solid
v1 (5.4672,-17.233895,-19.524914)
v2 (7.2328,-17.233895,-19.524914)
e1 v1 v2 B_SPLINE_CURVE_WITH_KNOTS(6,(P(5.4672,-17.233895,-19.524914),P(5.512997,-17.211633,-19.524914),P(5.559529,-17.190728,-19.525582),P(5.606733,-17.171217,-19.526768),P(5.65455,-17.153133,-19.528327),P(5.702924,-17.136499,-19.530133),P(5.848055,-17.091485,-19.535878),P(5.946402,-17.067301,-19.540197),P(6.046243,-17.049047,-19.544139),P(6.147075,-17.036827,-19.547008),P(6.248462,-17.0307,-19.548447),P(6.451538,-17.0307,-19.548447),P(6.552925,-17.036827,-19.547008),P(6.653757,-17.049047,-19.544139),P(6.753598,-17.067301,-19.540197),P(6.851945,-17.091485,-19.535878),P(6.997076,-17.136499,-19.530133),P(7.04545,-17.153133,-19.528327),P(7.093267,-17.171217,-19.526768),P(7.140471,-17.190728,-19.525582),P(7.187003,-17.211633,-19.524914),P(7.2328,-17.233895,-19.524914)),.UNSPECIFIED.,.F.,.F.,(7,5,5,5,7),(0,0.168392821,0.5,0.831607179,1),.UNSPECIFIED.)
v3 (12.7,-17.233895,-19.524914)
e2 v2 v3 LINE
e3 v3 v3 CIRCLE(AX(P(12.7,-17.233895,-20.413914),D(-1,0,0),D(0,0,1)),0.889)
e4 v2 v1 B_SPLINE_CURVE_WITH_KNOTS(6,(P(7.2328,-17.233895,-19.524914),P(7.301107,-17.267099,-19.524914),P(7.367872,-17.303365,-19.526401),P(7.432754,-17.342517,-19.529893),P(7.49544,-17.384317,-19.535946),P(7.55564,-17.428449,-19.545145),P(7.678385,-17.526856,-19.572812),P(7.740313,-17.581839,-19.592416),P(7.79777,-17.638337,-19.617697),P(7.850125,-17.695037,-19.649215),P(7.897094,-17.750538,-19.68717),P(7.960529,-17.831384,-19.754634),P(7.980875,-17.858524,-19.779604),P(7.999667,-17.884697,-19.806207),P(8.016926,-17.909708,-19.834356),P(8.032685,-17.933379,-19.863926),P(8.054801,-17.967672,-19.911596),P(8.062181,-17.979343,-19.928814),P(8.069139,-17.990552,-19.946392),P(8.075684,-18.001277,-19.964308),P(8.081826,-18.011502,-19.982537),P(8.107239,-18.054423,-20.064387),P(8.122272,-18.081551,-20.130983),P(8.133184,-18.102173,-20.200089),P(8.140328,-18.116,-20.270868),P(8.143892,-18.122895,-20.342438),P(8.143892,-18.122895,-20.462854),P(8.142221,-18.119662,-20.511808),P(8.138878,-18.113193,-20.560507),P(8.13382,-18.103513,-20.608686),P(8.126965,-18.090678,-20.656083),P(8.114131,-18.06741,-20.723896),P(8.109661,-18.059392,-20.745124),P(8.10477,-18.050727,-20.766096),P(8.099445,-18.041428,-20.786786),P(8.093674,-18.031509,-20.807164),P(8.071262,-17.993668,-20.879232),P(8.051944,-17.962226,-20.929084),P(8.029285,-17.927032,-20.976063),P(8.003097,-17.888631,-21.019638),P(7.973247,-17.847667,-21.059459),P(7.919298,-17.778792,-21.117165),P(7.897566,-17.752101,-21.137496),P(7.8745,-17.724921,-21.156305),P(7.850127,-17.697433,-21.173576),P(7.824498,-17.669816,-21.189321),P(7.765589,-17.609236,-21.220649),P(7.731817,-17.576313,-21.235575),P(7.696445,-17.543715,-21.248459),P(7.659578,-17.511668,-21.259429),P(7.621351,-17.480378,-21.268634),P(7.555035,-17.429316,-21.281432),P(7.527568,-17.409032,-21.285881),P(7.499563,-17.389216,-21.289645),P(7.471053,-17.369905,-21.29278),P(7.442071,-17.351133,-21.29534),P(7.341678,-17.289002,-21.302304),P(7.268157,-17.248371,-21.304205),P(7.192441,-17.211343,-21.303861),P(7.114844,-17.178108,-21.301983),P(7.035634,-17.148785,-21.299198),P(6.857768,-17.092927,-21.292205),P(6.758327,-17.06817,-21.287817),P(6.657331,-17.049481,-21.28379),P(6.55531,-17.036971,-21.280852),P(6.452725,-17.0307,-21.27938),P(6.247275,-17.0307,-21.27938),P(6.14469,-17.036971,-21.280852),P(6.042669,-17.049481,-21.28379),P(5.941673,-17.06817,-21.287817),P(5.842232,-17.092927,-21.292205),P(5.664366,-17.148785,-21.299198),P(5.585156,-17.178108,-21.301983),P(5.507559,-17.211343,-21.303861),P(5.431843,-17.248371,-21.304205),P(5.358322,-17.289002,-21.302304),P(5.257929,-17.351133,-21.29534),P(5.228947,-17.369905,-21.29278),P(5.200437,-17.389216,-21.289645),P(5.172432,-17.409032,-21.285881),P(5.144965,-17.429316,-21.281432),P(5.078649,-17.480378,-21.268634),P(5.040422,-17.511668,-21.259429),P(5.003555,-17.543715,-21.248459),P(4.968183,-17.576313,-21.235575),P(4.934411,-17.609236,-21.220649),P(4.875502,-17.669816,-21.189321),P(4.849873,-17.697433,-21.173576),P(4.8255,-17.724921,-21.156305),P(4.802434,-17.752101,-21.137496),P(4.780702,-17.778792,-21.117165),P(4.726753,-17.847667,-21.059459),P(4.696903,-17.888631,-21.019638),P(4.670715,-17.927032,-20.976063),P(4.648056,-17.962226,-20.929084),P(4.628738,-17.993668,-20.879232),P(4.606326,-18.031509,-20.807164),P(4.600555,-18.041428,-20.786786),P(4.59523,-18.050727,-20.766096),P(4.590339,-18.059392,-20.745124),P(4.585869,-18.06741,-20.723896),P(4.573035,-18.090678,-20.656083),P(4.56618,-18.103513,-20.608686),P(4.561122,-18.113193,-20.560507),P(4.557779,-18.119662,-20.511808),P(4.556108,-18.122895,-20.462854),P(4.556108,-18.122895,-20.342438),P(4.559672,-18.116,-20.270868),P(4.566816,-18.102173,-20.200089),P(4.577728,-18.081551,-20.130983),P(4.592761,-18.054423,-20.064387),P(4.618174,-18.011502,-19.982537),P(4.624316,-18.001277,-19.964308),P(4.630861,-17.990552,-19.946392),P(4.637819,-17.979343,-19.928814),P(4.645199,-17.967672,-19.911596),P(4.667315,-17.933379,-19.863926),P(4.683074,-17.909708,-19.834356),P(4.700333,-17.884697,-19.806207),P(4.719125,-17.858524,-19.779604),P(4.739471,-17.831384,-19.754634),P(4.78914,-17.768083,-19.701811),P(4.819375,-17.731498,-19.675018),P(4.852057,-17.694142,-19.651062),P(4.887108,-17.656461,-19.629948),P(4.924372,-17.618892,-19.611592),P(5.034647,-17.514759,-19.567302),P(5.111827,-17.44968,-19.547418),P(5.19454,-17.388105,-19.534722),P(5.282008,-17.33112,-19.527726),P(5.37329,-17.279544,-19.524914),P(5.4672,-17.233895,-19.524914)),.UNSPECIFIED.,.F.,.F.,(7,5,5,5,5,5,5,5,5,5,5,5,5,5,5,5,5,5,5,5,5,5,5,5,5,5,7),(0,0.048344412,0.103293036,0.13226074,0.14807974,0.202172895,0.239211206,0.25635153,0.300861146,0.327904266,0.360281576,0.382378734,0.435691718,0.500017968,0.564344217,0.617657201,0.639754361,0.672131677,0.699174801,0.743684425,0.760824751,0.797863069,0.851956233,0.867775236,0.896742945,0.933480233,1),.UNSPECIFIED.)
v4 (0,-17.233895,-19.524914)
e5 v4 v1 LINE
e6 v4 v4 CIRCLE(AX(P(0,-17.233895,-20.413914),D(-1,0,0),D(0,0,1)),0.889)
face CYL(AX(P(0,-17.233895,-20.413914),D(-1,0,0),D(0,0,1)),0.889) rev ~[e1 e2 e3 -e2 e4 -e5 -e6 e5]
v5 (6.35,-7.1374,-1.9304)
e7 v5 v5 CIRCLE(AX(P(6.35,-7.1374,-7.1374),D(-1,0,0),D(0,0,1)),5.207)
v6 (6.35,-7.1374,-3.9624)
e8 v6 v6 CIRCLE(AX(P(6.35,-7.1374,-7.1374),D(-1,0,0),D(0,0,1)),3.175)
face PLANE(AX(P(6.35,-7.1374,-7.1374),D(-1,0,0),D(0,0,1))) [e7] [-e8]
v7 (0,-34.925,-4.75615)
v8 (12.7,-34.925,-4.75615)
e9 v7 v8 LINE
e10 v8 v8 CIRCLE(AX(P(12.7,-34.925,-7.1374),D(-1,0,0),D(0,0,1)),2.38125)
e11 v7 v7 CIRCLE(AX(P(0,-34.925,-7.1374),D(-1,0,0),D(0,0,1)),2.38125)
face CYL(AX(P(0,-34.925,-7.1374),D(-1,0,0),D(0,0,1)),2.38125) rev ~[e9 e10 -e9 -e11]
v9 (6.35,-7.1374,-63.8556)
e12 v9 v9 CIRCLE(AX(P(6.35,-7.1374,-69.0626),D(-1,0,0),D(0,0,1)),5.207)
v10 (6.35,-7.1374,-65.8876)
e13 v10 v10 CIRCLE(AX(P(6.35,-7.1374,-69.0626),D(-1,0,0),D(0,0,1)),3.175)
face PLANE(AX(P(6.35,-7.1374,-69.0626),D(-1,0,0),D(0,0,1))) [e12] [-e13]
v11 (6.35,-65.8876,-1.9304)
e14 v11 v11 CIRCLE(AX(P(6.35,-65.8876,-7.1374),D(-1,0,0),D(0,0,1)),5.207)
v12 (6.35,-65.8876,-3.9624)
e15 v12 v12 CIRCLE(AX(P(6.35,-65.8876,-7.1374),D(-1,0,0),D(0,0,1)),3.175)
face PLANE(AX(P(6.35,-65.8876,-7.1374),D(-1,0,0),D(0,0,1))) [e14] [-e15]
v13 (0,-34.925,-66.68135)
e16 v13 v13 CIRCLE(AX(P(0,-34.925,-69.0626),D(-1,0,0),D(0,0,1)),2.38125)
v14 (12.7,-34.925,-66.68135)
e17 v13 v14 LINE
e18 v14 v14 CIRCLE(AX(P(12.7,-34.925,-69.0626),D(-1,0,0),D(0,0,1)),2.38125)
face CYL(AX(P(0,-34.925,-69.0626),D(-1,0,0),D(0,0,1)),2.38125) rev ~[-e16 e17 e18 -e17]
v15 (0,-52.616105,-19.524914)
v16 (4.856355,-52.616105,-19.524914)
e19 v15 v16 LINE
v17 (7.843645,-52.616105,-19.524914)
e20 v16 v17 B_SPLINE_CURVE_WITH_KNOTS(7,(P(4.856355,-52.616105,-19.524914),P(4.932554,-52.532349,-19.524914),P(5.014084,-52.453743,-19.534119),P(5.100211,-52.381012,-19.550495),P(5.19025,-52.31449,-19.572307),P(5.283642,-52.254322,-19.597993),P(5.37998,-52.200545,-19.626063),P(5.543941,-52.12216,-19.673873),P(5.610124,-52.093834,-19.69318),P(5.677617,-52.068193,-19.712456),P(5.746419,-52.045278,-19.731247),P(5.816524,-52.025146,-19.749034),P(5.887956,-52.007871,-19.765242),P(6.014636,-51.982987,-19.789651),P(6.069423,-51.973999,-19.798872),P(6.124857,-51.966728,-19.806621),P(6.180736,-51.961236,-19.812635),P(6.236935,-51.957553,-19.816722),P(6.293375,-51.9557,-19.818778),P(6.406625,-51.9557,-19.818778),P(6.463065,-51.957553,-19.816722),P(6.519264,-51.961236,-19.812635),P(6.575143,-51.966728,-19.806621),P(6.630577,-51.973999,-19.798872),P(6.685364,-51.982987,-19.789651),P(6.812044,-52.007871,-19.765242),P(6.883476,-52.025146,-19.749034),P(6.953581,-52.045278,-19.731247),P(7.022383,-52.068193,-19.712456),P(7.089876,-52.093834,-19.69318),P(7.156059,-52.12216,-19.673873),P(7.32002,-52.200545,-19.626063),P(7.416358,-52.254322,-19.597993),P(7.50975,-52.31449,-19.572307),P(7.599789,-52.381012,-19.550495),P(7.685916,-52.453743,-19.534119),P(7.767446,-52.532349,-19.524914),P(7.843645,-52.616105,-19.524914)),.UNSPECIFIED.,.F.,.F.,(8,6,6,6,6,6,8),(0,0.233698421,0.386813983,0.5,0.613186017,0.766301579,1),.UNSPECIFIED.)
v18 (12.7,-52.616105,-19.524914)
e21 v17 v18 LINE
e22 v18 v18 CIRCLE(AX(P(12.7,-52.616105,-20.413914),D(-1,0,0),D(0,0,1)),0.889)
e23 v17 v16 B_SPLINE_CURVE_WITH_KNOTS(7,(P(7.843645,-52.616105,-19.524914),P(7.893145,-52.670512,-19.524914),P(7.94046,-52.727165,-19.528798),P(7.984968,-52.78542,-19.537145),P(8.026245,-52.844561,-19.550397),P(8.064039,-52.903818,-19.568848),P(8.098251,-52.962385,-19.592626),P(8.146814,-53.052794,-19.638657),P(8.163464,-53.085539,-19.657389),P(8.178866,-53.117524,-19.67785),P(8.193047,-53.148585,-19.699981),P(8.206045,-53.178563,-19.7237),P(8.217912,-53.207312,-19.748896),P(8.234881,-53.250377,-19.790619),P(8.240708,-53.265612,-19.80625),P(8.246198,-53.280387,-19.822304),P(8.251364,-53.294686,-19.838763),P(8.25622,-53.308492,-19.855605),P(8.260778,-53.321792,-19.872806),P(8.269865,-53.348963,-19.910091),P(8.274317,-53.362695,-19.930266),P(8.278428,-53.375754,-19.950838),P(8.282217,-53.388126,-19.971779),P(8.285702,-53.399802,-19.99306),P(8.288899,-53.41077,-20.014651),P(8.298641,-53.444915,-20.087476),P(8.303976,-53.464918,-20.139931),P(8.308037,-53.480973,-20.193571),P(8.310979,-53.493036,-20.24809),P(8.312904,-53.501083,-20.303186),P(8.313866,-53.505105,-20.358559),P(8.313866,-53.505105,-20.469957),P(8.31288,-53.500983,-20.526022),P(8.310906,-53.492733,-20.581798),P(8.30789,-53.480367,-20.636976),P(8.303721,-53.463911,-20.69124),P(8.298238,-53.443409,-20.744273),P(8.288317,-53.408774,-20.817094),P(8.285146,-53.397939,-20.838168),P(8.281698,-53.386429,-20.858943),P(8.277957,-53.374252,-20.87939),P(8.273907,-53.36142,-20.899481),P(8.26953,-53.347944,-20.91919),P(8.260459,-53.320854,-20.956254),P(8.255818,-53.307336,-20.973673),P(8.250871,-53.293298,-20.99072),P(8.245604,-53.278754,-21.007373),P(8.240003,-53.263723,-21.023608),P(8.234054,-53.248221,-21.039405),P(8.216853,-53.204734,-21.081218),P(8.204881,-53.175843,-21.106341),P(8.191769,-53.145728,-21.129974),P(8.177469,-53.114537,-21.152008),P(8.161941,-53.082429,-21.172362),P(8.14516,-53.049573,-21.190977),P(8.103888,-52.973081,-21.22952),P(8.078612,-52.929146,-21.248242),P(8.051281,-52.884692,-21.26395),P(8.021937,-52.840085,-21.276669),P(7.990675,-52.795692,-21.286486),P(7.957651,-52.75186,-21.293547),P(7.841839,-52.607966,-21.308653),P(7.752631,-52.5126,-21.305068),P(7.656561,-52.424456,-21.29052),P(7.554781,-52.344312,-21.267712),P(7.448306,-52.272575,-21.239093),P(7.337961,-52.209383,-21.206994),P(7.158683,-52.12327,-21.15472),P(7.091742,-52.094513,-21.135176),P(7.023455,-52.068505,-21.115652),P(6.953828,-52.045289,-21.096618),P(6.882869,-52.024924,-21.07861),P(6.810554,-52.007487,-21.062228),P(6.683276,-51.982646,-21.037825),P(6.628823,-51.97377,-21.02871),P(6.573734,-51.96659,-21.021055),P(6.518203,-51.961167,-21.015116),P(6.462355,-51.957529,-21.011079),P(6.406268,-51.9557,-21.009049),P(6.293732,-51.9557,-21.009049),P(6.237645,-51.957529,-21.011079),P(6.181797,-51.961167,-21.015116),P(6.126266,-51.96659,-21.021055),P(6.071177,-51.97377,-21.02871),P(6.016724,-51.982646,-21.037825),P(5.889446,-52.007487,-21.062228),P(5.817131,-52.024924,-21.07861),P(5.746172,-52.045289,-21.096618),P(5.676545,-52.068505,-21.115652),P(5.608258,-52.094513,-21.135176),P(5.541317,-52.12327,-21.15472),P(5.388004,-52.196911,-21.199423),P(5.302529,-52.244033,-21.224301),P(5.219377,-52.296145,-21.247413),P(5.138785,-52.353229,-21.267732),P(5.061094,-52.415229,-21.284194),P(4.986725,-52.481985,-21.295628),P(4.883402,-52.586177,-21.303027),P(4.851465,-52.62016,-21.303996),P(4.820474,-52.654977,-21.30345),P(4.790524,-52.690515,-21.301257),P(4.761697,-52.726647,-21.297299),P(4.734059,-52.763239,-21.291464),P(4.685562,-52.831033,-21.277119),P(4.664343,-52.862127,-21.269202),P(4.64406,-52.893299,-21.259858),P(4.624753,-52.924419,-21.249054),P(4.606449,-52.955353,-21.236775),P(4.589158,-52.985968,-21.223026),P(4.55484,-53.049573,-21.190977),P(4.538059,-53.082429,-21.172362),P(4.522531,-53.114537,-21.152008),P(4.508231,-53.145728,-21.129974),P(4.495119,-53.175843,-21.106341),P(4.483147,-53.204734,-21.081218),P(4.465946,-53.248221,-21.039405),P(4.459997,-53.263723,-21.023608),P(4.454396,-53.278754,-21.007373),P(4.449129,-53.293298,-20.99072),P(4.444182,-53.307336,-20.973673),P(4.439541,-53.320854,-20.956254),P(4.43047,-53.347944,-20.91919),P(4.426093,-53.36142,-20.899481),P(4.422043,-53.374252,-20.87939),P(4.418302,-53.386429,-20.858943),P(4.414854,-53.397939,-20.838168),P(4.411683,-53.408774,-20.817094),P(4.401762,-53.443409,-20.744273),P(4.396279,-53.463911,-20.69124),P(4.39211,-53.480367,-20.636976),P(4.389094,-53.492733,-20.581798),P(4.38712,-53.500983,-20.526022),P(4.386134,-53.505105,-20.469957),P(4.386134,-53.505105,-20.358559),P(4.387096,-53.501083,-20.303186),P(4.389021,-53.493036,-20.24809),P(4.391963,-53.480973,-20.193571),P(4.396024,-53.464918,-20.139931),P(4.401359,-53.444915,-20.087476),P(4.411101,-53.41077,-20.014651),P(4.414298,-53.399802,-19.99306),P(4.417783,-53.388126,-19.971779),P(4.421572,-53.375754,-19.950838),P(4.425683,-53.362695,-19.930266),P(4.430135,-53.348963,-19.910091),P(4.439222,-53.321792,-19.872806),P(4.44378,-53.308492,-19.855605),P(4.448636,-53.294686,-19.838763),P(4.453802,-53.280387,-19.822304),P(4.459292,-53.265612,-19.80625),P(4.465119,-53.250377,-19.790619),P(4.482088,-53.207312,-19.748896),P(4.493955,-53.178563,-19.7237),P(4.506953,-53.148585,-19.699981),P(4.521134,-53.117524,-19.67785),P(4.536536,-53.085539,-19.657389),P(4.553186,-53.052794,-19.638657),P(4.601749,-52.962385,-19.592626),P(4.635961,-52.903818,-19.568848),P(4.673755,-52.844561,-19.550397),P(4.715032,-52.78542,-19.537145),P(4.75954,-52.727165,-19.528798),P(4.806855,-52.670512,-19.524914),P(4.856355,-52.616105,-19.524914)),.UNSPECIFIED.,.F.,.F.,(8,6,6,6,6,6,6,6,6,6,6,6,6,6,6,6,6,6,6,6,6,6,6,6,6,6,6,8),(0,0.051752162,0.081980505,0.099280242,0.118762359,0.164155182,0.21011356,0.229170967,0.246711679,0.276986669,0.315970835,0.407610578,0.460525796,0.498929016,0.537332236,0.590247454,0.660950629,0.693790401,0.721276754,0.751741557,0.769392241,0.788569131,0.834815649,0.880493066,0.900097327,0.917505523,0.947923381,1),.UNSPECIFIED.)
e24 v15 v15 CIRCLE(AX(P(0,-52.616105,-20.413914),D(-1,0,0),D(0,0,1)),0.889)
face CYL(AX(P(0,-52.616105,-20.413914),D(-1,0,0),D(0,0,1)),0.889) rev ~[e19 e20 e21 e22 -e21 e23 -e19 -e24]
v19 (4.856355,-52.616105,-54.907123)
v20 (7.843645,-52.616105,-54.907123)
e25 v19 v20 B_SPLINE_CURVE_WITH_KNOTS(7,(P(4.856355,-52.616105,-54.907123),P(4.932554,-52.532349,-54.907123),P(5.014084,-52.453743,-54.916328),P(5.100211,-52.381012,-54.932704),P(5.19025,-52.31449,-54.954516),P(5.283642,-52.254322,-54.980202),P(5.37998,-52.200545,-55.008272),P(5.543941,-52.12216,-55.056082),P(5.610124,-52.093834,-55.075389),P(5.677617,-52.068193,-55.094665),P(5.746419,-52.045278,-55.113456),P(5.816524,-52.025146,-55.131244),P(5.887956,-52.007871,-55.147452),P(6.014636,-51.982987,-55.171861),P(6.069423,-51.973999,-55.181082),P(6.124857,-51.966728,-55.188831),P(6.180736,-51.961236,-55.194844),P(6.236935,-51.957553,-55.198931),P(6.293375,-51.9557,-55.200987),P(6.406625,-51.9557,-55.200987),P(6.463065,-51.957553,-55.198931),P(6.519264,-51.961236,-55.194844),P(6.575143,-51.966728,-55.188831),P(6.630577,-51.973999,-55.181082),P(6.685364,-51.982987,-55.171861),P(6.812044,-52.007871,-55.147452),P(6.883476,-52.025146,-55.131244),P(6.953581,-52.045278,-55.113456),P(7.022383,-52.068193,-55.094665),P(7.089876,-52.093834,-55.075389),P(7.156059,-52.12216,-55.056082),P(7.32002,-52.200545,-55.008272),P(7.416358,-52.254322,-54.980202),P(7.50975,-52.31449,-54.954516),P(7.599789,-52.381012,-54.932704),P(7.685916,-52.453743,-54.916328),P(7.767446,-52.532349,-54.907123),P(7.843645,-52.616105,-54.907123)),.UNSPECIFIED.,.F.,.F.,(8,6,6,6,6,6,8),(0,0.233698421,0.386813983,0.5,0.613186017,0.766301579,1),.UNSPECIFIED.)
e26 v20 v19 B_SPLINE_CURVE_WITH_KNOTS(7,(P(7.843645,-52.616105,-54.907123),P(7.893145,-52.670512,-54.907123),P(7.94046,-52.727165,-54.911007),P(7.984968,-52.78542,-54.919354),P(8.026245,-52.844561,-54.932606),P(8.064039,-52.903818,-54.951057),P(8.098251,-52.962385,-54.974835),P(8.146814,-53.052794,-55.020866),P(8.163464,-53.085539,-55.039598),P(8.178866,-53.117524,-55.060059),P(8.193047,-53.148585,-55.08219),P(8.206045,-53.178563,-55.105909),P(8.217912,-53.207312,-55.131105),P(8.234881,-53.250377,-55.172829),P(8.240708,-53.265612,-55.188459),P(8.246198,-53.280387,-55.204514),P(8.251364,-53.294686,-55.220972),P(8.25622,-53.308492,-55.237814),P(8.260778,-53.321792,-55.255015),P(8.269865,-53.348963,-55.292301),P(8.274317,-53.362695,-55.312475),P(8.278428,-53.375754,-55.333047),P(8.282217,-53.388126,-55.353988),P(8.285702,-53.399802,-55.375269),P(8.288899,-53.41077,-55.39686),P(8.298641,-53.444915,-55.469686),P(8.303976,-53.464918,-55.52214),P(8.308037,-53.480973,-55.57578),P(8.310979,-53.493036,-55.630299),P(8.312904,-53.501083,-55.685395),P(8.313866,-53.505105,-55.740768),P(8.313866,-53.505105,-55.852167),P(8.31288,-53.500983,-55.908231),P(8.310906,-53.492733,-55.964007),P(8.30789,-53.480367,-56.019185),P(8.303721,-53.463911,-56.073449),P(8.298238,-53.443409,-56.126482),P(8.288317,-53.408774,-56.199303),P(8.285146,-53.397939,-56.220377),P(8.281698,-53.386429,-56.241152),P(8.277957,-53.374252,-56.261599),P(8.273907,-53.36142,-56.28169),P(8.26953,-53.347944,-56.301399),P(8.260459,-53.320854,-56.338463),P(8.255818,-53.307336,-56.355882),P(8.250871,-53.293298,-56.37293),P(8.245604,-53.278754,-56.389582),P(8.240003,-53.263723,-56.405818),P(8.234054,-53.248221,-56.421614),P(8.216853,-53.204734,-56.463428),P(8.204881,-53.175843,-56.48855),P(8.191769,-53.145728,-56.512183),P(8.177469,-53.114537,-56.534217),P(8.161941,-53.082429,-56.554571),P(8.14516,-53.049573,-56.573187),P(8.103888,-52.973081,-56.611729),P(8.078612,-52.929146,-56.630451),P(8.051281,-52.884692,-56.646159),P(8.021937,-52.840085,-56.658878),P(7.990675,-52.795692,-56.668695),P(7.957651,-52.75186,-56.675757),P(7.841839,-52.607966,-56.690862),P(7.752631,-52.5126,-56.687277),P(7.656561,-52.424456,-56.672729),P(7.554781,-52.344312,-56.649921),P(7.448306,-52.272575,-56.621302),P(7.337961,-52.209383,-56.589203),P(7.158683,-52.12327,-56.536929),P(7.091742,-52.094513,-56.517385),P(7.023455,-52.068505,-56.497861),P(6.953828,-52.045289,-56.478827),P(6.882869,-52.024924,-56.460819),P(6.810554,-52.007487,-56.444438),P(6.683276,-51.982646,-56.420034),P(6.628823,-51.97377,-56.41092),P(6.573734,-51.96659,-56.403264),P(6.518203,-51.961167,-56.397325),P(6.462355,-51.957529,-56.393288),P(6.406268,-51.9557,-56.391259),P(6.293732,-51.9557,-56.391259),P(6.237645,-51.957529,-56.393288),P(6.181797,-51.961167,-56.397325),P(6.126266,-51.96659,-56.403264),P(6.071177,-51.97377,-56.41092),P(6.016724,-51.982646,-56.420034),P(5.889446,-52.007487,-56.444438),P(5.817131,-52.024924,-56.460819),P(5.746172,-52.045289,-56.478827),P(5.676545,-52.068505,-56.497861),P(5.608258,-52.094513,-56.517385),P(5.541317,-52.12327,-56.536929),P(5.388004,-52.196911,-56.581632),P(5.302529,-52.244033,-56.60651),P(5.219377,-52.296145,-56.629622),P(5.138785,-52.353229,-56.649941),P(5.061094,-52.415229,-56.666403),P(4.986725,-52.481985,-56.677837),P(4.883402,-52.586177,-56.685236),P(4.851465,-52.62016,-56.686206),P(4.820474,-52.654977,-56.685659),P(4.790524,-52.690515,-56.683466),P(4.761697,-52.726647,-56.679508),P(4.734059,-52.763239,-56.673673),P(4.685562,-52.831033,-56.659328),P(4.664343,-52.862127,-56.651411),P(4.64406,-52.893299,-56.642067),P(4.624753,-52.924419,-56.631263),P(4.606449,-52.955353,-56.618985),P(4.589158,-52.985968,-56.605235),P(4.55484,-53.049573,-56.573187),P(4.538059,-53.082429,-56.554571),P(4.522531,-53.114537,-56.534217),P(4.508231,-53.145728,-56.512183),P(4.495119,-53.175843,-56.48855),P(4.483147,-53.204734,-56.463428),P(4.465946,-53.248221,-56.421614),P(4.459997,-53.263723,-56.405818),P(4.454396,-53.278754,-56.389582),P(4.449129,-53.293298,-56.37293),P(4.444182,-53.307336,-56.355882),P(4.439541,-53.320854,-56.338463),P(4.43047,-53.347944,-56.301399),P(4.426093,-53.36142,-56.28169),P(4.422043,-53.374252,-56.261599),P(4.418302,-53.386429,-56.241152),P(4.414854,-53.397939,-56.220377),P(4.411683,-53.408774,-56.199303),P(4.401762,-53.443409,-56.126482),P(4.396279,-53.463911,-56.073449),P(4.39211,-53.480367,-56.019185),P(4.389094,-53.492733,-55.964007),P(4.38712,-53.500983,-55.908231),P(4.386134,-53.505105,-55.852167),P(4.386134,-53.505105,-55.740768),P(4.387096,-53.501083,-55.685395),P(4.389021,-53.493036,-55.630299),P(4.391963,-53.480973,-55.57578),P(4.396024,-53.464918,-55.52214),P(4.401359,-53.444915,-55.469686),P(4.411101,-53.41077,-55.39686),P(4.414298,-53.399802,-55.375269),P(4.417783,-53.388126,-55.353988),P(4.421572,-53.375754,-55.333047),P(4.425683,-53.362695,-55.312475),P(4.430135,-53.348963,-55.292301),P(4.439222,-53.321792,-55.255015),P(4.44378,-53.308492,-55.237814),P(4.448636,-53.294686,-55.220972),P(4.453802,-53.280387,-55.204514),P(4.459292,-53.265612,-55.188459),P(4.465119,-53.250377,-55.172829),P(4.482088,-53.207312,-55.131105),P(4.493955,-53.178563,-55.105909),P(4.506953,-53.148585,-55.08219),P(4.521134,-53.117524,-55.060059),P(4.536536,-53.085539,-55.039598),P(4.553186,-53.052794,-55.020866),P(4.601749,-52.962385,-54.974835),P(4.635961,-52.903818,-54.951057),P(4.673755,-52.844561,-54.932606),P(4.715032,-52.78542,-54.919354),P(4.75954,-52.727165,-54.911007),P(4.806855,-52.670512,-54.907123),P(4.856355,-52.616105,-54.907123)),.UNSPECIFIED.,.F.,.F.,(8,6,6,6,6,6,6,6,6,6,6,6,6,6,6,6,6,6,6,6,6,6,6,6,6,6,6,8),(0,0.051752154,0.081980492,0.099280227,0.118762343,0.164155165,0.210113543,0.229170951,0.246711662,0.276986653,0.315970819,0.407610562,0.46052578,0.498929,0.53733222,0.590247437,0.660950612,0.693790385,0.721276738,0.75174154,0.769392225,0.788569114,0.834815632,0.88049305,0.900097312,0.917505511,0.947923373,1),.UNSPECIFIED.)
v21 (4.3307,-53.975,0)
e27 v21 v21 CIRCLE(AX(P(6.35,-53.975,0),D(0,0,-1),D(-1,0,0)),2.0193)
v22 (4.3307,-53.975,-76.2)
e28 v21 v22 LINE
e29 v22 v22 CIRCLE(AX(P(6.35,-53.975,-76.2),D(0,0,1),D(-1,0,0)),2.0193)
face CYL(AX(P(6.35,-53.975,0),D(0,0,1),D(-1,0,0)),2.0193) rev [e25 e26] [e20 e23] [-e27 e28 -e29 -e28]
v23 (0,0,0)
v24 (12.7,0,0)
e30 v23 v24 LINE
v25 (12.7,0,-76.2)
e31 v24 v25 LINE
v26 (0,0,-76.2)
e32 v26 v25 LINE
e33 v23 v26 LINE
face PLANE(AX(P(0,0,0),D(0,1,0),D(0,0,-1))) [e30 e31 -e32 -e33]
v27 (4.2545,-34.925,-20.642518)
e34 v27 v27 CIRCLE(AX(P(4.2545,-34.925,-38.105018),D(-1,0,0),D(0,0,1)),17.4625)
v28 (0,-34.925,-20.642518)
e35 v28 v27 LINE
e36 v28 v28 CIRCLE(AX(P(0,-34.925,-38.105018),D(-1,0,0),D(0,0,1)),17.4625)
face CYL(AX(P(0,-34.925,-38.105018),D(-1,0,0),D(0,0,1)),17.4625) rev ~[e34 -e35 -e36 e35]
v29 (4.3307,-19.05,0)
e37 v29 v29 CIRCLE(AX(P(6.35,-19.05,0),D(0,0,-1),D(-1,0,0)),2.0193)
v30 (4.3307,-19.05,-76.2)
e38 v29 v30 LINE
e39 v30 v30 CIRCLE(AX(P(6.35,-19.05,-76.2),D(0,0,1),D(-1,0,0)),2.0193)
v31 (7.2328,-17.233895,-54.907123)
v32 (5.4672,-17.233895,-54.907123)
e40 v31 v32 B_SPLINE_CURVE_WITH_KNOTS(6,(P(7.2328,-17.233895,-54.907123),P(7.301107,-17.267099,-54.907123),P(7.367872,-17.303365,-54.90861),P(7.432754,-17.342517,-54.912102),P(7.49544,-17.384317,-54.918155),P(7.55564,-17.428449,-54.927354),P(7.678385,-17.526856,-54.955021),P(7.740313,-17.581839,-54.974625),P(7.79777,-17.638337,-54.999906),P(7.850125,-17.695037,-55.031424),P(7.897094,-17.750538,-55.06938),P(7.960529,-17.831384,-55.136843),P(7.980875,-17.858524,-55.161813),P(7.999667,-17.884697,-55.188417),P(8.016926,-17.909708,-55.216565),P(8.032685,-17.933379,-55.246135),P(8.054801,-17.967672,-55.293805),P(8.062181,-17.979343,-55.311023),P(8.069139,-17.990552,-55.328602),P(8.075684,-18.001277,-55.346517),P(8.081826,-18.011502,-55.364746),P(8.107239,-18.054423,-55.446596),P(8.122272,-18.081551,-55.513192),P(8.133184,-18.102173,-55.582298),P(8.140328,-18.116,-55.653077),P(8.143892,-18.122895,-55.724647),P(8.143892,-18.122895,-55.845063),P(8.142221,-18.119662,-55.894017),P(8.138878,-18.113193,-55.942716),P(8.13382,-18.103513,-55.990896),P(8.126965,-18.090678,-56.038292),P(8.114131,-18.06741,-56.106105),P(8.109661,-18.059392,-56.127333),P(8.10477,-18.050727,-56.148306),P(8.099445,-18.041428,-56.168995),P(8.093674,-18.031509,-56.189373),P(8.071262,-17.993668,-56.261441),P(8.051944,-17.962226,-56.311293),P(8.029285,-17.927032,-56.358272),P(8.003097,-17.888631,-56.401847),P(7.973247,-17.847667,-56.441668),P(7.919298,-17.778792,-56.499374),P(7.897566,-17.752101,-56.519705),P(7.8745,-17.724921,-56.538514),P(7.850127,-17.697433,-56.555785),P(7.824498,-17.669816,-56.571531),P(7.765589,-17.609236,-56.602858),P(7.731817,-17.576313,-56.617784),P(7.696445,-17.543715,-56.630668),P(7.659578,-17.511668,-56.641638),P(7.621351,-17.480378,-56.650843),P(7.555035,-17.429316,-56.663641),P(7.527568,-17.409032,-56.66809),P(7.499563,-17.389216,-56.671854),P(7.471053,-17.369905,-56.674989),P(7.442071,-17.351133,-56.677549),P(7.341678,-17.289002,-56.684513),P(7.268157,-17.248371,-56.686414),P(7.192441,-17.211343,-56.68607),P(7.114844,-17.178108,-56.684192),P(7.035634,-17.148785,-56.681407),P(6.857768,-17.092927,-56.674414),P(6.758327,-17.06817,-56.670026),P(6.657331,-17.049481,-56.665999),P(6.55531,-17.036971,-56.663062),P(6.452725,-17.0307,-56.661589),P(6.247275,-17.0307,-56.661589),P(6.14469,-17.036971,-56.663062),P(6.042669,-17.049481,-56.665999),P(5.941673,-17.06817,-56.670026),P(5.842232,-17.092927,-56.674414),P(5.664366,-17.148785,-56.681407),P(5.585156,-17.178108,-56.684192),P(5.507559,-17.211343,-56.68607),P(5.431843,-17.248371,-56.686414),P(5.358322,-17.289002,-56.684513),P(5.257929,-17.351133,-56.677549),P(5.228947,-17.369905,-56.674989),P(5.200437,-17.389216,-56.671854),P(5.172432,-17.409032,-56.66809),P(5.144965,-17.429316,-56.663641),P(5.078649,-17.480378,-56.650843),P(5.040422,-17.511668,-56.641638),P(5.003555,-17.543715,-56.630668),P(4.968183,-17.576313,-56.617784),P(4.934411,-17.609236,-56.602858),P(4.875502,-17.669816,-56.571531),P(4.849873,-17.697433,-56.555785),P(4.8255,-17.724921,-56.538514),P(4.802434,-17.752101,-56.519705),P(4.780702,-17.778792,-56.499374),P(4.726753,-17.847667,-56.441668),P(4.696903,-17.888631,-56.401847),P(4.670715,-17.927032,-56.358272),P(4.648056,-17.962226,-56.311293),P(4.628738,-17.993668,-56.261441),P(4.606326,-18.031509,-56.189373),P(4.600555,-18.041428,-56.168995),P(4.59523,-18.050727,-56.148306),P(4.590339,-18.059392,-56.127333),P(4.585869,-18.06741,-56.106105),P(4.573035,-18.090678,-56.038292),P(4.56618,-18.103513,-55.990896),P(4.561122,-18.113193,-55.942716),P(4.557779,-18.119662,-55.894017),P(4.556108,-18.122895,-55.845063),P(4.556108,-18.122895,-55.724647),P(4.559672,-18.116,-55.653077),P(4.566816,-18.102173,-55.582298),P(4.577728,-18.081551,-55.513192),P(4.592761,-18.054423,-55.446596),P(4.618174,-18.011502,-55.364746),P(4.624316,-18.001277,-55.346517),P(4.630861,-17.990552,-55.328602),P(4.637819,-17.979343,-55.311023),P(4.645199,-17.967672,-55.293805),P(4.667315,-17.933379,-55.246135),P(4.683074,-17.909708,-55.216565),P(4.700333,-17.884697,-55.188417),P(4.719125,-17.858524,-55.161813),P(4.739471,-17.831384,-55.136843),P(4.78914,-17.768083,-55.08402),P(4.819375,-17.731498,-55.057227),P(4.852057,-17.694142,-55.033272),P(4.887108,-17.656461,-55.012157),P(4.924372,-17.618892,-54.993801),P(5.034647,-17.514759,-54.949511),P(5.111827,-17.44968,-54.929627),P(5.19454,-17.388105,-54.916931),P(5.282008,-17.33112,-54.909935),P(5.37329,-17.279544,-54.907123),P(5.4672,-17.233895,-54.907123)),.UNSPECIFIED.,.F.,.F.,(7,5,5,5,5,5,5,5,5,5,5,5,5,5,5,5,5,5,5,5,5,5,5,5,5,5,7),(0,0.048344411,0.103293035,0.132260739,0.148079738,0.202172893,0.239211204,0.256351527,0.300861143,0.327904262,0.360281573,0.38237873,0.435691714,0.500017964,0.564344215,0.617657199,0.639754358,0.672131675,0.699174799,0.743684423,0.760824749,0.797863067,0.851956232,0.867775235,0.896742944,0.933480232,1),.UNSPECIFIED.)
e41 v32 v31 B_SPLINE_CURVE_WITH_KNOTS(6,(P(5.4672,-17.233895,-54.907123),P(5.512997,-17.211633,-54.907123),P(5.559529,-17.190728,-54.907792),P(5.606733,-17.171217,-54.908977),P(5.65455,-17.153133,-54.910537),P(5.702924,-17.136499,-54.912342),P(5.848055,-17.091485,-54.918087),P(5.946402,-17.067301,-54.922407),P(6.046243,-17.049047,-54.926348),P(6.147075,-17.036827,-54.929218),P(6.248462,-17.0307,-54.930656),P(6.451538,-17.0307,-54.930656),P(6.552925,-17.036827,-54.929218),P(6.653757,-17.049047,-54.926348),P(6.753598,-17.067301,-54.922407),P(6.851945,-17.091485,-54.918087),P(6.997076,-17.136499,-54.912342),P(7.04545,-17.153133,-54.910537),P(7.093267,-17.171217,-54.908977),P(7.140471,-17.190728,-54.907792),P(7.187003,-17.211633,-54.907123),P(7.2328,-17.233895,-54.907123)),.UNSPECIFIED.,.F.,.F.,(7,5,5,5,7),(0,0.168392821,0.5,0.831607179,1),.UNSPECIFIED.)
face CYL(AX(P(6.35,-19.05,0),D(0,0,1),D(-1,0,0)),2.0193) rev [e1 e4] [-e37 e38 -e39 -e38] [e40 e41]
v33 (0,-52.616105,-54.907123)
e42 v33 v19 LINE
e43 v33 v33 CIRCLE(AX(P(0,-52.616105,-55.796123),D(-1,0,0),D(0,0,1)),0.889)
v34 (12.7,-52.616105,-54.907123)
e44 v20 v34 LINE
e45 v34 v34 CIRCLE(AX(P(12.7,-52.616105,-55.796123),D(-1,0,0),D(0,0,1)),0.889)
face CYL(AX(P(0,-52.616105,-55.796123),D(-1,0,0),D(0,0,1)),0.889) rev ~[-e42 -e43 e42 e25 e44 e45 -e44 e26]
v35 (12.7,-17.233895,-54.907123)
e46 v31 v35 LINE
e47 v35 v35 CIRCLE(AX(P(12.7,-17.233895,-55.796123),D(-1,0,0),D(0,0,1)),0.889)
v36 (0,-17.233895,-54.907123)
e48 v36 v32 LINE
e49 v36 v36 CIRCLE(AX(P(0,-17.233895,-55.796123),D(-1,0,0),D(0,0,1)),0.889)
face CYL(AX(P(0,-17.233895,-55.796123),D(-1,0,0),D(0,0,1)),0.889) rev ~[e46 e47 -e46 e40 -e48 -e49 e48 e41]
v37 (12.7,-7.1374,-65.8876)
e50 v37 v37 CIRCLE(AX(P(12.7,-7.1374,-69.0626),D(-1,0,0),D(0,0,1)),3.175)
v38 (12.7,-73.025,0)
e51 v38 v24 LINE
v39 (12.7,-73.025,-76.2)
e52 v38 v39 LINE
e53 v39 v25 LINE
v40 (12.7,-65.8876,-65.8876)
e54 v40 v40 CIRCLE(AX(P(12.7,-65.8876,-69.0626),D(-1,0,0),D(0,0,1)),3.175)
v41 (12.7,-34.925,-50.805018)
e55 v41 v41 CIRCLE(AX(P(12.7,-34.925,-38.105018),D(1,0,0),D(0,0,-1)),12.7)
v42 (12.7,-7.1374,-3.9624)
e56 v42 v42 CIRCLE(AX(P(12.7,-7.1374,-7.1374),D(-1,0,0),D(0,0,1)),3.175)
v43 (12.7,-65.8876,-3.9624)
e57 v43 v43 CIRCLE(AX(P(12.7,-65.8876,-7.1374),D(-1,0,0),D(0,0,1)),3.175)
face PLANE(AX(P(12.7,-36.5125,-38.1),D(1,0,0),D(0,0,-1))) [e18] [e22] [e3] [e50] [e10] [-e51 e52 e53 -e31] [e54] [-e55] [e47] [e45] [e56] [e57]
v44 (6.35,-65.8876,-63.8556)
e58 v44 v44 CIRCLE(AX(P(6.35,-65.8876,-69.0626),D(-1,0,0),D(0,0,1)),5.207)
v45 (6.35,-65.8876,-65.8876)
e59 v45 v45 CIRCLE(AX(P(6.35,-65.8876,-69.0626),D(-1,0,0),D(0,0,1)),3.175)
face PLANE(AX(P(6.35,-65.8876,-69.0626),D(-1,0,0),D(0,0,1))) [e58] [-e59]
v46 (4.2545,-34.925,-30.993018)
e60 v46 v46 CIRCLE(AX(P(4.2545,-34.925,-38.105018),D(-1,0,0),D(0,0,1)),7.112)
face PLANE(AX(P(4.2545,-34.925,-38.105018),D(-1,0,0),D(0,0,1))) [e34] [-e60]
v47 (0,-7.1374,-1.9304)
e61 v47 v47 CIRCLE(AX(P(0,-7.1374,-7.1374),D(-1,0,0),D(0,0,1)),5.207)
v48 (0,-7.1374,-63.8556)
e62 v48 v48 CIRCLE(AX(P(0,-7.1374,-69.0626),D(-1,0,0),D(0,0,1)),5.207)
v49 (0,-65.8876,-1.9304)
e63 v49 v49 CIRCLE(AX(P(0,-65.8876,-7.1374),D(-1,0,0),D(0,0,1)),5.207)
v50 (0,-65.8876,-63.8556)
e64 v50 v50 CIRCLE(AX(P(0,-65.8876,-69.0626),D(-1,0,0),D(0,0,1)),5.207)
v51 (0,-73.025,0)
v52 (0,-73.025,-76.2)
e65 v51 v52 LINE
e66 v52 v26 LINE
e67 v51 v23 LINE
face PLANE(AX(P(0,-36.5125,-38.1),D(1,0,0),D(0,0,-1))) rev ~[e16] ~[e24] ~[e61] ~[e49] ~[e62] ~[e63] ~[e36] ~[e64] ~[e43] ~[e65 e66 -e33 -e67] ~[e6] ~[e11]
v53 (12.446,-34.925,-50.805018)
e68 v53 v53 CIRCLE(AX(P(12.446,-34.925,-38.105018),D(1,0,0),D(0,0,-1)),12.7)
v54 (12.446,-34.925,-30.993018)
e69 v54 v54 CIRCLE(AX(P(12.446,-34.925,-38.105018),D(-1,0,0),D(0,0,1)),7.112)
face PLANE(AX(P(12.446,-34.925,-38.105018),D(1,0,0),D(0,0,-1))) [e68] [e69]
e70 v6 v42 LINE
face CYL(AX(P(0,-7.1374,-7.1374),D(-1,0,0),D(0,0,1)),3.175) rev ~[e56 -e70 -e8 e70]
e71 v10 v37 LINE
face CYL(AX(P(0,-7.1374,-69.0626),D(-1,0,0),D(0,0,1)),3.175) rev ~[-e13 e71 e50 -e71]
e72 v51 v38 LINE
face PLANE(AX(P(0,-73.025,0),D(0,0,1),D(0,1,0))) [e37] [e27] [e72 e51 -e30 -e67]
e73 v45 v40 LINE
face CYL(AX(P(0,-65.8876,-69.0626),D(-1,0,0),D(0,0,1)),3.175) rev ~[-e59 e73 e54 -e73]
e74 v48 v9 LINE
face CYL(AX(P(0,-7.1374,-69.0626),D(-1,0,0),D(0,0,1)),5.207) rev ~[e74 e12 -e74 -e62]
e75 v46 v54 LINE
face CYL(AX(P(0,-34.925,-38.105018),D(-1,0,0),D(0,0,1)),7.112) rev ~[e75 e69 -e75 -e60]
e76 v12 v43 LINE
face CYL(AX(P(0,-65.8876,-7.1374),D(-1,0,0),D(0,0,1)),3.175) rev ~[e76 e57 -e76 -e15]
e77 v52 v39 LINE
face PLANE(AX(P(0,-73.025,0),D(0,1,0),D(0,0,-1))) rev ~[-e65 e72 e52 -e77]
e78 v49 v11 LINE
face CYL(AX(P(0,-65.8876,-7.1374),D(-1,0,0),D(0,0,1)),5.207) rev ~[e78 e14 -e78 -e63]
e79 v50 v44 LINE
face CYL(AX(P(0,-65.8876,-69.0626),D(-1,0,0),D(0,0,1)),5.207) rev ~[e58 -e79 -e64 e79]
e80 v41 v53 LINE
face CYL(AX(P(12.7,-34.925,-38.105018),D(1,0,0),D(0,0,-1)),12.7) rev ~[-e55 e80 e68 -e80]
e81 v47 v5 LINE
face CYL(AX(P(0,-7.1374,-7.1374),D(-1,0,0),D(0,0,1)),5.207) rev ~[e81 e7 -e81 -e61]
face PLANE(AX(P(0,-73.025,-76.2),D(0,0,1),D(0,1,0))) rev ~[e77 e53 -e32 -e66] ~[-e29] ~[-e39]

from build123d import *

# Parameters (mm, degrees)
SKETCH1_W          = 76.2
SKETCH1_H          = 73.025
EXTRUDE1_DEPTH     = 12.7
SKETCH8_R          = 0.889
SKETCH8_R_2        = 3.175
SKETCH8_R_3        = 7.112
SKETCH8_R_4        = 2.38125
CUT_EXTRUDE5_DEPTH = 12.7
SKETCH11_R         = 5.207
CUT_EXTRUDE6_DEPTH = 6.35
SKETCH13_R         = 17.4625
CUT_EXTRUDE7_DEPTH = 4.2545
SKETCH14_R         = 12.7
CUT_EXTRUDE8_DEPTH = 0.254
SKETCH15_R         = 2.0193
CUT_EXTRUDE9_DEPTH = 77.2


with BuildPart() as part:
    # Sketch1 → Extrude1 (new body)
    with BuildSketch(Plane(origin=(0, 0, 0), x_dir=(0, 0, -1), z_dir=(1, 0, 0))):
        with Locations((38.1, -36.5125)):
            Rectangle(SKETCH1_W, SKETCH1_H)
    extrude(amount=EXTRUDE1_DEPTH)

    # Sketch8 → Cut-Extrude5 (cut)
    with BuildSketch(Plane.ZY):
        with Locations((-55.796122625, -17.233895441)):
            Circle(SKETCH8_R)
        with Locations((-7.1374, -7.1374)):
            Circle(SKETCH8_R_2)
        with Locations((-69.0626, -7.1374)):
            Circle(SKETCH8_R_2)
        with Locations((-69.0626, -65.8876)):
            Circle(SKETCH8_R_2)
        with Locations((-7.1374, -65.8876)):
            Circle(SKETCH8_R_2)
        with Locations((-38.105018066, -34.925)):
            Circle(SKETCH8_R_3)
        with Locations((-69.0626, -34.925)):
            Circle(SKETCH8_R_4)
        with Locations((-7.1374, -34.925)):
            Circle(SKETCH8_R_4)
        with Locations((-20.413913508, -17.233895441)):
            Circle(SKETCH8_R)
        with Locations((-55.796122625, -52.616104559)):
            Circle(SKETCH8_R)
        with Locations((-20.413913508, -52.616104559)):
            Circle(SKETCH8_R)
    extrude(amount=-CUT_EXTRUDE5_DEPTH, mode=Mode.SUBTRACT)

    # Sketch11 → Cut-Extrude6 (cut)
    with BuildSketch(Plane.ZY):
        with Locations((-7.1374, -7.1374)):
            Circle(SKETCH11_R)
        with Locations((-69.0626, -7.1374)):
            Circle(SKETCH11_R)
        with Locations((-69.0626, -65.8876)):
            Circle(SKETCH11_R)
        with Locations((-7.1374, -65.8876)):
            Circle(SKETCH11_R)
    extrude(amount=-CUT_EXTRUDE6_DEPTH, mode=Mode.SUBTRACT)

    # Sketch13 → Cut-Extrude7 (cut)
    with BuildSketch(Plane.ZY):
        with Locations((-38.105018066, -34.925)):
            Circle(SKETCH13_R)
    extrude(amount=-CUT_EXTRUDE7_DEPTH, mode=Mode.SUBTRACT)

    # Sketch14 → Cut-Extrude8 (cut)
    with BuildSketch(Plane(origin=(12.7, 0, 0), x_dir=(0, 0, -1), z_dir=(1, 0, 0))):
        with Locations((38.105018066, -34.925)):
            Circle(SKETCH14_R)
    extrude(amount=-CUT_EXTRUDE8_DEPTH, mode=Mode.SUBTRACT)

    # Sketch15 → Cut-Extrude9 (cut, through all)
    with BuildSketch(Plane(origin=(0, 0, 0), x_dir=(-1, 0, 0), z_dir=(0, 0, -1))):
        with Locations((-6.35, -19.05)):
            Circle(SKETCH15_R)
        with Locations((-6.35, -53.975)):
            Circle(SKETCH15_R)
    extrude(amount=CUT_EXTRUDE9_DEPTH, mode=Mode.SUBTRACT)


solid = part.part
